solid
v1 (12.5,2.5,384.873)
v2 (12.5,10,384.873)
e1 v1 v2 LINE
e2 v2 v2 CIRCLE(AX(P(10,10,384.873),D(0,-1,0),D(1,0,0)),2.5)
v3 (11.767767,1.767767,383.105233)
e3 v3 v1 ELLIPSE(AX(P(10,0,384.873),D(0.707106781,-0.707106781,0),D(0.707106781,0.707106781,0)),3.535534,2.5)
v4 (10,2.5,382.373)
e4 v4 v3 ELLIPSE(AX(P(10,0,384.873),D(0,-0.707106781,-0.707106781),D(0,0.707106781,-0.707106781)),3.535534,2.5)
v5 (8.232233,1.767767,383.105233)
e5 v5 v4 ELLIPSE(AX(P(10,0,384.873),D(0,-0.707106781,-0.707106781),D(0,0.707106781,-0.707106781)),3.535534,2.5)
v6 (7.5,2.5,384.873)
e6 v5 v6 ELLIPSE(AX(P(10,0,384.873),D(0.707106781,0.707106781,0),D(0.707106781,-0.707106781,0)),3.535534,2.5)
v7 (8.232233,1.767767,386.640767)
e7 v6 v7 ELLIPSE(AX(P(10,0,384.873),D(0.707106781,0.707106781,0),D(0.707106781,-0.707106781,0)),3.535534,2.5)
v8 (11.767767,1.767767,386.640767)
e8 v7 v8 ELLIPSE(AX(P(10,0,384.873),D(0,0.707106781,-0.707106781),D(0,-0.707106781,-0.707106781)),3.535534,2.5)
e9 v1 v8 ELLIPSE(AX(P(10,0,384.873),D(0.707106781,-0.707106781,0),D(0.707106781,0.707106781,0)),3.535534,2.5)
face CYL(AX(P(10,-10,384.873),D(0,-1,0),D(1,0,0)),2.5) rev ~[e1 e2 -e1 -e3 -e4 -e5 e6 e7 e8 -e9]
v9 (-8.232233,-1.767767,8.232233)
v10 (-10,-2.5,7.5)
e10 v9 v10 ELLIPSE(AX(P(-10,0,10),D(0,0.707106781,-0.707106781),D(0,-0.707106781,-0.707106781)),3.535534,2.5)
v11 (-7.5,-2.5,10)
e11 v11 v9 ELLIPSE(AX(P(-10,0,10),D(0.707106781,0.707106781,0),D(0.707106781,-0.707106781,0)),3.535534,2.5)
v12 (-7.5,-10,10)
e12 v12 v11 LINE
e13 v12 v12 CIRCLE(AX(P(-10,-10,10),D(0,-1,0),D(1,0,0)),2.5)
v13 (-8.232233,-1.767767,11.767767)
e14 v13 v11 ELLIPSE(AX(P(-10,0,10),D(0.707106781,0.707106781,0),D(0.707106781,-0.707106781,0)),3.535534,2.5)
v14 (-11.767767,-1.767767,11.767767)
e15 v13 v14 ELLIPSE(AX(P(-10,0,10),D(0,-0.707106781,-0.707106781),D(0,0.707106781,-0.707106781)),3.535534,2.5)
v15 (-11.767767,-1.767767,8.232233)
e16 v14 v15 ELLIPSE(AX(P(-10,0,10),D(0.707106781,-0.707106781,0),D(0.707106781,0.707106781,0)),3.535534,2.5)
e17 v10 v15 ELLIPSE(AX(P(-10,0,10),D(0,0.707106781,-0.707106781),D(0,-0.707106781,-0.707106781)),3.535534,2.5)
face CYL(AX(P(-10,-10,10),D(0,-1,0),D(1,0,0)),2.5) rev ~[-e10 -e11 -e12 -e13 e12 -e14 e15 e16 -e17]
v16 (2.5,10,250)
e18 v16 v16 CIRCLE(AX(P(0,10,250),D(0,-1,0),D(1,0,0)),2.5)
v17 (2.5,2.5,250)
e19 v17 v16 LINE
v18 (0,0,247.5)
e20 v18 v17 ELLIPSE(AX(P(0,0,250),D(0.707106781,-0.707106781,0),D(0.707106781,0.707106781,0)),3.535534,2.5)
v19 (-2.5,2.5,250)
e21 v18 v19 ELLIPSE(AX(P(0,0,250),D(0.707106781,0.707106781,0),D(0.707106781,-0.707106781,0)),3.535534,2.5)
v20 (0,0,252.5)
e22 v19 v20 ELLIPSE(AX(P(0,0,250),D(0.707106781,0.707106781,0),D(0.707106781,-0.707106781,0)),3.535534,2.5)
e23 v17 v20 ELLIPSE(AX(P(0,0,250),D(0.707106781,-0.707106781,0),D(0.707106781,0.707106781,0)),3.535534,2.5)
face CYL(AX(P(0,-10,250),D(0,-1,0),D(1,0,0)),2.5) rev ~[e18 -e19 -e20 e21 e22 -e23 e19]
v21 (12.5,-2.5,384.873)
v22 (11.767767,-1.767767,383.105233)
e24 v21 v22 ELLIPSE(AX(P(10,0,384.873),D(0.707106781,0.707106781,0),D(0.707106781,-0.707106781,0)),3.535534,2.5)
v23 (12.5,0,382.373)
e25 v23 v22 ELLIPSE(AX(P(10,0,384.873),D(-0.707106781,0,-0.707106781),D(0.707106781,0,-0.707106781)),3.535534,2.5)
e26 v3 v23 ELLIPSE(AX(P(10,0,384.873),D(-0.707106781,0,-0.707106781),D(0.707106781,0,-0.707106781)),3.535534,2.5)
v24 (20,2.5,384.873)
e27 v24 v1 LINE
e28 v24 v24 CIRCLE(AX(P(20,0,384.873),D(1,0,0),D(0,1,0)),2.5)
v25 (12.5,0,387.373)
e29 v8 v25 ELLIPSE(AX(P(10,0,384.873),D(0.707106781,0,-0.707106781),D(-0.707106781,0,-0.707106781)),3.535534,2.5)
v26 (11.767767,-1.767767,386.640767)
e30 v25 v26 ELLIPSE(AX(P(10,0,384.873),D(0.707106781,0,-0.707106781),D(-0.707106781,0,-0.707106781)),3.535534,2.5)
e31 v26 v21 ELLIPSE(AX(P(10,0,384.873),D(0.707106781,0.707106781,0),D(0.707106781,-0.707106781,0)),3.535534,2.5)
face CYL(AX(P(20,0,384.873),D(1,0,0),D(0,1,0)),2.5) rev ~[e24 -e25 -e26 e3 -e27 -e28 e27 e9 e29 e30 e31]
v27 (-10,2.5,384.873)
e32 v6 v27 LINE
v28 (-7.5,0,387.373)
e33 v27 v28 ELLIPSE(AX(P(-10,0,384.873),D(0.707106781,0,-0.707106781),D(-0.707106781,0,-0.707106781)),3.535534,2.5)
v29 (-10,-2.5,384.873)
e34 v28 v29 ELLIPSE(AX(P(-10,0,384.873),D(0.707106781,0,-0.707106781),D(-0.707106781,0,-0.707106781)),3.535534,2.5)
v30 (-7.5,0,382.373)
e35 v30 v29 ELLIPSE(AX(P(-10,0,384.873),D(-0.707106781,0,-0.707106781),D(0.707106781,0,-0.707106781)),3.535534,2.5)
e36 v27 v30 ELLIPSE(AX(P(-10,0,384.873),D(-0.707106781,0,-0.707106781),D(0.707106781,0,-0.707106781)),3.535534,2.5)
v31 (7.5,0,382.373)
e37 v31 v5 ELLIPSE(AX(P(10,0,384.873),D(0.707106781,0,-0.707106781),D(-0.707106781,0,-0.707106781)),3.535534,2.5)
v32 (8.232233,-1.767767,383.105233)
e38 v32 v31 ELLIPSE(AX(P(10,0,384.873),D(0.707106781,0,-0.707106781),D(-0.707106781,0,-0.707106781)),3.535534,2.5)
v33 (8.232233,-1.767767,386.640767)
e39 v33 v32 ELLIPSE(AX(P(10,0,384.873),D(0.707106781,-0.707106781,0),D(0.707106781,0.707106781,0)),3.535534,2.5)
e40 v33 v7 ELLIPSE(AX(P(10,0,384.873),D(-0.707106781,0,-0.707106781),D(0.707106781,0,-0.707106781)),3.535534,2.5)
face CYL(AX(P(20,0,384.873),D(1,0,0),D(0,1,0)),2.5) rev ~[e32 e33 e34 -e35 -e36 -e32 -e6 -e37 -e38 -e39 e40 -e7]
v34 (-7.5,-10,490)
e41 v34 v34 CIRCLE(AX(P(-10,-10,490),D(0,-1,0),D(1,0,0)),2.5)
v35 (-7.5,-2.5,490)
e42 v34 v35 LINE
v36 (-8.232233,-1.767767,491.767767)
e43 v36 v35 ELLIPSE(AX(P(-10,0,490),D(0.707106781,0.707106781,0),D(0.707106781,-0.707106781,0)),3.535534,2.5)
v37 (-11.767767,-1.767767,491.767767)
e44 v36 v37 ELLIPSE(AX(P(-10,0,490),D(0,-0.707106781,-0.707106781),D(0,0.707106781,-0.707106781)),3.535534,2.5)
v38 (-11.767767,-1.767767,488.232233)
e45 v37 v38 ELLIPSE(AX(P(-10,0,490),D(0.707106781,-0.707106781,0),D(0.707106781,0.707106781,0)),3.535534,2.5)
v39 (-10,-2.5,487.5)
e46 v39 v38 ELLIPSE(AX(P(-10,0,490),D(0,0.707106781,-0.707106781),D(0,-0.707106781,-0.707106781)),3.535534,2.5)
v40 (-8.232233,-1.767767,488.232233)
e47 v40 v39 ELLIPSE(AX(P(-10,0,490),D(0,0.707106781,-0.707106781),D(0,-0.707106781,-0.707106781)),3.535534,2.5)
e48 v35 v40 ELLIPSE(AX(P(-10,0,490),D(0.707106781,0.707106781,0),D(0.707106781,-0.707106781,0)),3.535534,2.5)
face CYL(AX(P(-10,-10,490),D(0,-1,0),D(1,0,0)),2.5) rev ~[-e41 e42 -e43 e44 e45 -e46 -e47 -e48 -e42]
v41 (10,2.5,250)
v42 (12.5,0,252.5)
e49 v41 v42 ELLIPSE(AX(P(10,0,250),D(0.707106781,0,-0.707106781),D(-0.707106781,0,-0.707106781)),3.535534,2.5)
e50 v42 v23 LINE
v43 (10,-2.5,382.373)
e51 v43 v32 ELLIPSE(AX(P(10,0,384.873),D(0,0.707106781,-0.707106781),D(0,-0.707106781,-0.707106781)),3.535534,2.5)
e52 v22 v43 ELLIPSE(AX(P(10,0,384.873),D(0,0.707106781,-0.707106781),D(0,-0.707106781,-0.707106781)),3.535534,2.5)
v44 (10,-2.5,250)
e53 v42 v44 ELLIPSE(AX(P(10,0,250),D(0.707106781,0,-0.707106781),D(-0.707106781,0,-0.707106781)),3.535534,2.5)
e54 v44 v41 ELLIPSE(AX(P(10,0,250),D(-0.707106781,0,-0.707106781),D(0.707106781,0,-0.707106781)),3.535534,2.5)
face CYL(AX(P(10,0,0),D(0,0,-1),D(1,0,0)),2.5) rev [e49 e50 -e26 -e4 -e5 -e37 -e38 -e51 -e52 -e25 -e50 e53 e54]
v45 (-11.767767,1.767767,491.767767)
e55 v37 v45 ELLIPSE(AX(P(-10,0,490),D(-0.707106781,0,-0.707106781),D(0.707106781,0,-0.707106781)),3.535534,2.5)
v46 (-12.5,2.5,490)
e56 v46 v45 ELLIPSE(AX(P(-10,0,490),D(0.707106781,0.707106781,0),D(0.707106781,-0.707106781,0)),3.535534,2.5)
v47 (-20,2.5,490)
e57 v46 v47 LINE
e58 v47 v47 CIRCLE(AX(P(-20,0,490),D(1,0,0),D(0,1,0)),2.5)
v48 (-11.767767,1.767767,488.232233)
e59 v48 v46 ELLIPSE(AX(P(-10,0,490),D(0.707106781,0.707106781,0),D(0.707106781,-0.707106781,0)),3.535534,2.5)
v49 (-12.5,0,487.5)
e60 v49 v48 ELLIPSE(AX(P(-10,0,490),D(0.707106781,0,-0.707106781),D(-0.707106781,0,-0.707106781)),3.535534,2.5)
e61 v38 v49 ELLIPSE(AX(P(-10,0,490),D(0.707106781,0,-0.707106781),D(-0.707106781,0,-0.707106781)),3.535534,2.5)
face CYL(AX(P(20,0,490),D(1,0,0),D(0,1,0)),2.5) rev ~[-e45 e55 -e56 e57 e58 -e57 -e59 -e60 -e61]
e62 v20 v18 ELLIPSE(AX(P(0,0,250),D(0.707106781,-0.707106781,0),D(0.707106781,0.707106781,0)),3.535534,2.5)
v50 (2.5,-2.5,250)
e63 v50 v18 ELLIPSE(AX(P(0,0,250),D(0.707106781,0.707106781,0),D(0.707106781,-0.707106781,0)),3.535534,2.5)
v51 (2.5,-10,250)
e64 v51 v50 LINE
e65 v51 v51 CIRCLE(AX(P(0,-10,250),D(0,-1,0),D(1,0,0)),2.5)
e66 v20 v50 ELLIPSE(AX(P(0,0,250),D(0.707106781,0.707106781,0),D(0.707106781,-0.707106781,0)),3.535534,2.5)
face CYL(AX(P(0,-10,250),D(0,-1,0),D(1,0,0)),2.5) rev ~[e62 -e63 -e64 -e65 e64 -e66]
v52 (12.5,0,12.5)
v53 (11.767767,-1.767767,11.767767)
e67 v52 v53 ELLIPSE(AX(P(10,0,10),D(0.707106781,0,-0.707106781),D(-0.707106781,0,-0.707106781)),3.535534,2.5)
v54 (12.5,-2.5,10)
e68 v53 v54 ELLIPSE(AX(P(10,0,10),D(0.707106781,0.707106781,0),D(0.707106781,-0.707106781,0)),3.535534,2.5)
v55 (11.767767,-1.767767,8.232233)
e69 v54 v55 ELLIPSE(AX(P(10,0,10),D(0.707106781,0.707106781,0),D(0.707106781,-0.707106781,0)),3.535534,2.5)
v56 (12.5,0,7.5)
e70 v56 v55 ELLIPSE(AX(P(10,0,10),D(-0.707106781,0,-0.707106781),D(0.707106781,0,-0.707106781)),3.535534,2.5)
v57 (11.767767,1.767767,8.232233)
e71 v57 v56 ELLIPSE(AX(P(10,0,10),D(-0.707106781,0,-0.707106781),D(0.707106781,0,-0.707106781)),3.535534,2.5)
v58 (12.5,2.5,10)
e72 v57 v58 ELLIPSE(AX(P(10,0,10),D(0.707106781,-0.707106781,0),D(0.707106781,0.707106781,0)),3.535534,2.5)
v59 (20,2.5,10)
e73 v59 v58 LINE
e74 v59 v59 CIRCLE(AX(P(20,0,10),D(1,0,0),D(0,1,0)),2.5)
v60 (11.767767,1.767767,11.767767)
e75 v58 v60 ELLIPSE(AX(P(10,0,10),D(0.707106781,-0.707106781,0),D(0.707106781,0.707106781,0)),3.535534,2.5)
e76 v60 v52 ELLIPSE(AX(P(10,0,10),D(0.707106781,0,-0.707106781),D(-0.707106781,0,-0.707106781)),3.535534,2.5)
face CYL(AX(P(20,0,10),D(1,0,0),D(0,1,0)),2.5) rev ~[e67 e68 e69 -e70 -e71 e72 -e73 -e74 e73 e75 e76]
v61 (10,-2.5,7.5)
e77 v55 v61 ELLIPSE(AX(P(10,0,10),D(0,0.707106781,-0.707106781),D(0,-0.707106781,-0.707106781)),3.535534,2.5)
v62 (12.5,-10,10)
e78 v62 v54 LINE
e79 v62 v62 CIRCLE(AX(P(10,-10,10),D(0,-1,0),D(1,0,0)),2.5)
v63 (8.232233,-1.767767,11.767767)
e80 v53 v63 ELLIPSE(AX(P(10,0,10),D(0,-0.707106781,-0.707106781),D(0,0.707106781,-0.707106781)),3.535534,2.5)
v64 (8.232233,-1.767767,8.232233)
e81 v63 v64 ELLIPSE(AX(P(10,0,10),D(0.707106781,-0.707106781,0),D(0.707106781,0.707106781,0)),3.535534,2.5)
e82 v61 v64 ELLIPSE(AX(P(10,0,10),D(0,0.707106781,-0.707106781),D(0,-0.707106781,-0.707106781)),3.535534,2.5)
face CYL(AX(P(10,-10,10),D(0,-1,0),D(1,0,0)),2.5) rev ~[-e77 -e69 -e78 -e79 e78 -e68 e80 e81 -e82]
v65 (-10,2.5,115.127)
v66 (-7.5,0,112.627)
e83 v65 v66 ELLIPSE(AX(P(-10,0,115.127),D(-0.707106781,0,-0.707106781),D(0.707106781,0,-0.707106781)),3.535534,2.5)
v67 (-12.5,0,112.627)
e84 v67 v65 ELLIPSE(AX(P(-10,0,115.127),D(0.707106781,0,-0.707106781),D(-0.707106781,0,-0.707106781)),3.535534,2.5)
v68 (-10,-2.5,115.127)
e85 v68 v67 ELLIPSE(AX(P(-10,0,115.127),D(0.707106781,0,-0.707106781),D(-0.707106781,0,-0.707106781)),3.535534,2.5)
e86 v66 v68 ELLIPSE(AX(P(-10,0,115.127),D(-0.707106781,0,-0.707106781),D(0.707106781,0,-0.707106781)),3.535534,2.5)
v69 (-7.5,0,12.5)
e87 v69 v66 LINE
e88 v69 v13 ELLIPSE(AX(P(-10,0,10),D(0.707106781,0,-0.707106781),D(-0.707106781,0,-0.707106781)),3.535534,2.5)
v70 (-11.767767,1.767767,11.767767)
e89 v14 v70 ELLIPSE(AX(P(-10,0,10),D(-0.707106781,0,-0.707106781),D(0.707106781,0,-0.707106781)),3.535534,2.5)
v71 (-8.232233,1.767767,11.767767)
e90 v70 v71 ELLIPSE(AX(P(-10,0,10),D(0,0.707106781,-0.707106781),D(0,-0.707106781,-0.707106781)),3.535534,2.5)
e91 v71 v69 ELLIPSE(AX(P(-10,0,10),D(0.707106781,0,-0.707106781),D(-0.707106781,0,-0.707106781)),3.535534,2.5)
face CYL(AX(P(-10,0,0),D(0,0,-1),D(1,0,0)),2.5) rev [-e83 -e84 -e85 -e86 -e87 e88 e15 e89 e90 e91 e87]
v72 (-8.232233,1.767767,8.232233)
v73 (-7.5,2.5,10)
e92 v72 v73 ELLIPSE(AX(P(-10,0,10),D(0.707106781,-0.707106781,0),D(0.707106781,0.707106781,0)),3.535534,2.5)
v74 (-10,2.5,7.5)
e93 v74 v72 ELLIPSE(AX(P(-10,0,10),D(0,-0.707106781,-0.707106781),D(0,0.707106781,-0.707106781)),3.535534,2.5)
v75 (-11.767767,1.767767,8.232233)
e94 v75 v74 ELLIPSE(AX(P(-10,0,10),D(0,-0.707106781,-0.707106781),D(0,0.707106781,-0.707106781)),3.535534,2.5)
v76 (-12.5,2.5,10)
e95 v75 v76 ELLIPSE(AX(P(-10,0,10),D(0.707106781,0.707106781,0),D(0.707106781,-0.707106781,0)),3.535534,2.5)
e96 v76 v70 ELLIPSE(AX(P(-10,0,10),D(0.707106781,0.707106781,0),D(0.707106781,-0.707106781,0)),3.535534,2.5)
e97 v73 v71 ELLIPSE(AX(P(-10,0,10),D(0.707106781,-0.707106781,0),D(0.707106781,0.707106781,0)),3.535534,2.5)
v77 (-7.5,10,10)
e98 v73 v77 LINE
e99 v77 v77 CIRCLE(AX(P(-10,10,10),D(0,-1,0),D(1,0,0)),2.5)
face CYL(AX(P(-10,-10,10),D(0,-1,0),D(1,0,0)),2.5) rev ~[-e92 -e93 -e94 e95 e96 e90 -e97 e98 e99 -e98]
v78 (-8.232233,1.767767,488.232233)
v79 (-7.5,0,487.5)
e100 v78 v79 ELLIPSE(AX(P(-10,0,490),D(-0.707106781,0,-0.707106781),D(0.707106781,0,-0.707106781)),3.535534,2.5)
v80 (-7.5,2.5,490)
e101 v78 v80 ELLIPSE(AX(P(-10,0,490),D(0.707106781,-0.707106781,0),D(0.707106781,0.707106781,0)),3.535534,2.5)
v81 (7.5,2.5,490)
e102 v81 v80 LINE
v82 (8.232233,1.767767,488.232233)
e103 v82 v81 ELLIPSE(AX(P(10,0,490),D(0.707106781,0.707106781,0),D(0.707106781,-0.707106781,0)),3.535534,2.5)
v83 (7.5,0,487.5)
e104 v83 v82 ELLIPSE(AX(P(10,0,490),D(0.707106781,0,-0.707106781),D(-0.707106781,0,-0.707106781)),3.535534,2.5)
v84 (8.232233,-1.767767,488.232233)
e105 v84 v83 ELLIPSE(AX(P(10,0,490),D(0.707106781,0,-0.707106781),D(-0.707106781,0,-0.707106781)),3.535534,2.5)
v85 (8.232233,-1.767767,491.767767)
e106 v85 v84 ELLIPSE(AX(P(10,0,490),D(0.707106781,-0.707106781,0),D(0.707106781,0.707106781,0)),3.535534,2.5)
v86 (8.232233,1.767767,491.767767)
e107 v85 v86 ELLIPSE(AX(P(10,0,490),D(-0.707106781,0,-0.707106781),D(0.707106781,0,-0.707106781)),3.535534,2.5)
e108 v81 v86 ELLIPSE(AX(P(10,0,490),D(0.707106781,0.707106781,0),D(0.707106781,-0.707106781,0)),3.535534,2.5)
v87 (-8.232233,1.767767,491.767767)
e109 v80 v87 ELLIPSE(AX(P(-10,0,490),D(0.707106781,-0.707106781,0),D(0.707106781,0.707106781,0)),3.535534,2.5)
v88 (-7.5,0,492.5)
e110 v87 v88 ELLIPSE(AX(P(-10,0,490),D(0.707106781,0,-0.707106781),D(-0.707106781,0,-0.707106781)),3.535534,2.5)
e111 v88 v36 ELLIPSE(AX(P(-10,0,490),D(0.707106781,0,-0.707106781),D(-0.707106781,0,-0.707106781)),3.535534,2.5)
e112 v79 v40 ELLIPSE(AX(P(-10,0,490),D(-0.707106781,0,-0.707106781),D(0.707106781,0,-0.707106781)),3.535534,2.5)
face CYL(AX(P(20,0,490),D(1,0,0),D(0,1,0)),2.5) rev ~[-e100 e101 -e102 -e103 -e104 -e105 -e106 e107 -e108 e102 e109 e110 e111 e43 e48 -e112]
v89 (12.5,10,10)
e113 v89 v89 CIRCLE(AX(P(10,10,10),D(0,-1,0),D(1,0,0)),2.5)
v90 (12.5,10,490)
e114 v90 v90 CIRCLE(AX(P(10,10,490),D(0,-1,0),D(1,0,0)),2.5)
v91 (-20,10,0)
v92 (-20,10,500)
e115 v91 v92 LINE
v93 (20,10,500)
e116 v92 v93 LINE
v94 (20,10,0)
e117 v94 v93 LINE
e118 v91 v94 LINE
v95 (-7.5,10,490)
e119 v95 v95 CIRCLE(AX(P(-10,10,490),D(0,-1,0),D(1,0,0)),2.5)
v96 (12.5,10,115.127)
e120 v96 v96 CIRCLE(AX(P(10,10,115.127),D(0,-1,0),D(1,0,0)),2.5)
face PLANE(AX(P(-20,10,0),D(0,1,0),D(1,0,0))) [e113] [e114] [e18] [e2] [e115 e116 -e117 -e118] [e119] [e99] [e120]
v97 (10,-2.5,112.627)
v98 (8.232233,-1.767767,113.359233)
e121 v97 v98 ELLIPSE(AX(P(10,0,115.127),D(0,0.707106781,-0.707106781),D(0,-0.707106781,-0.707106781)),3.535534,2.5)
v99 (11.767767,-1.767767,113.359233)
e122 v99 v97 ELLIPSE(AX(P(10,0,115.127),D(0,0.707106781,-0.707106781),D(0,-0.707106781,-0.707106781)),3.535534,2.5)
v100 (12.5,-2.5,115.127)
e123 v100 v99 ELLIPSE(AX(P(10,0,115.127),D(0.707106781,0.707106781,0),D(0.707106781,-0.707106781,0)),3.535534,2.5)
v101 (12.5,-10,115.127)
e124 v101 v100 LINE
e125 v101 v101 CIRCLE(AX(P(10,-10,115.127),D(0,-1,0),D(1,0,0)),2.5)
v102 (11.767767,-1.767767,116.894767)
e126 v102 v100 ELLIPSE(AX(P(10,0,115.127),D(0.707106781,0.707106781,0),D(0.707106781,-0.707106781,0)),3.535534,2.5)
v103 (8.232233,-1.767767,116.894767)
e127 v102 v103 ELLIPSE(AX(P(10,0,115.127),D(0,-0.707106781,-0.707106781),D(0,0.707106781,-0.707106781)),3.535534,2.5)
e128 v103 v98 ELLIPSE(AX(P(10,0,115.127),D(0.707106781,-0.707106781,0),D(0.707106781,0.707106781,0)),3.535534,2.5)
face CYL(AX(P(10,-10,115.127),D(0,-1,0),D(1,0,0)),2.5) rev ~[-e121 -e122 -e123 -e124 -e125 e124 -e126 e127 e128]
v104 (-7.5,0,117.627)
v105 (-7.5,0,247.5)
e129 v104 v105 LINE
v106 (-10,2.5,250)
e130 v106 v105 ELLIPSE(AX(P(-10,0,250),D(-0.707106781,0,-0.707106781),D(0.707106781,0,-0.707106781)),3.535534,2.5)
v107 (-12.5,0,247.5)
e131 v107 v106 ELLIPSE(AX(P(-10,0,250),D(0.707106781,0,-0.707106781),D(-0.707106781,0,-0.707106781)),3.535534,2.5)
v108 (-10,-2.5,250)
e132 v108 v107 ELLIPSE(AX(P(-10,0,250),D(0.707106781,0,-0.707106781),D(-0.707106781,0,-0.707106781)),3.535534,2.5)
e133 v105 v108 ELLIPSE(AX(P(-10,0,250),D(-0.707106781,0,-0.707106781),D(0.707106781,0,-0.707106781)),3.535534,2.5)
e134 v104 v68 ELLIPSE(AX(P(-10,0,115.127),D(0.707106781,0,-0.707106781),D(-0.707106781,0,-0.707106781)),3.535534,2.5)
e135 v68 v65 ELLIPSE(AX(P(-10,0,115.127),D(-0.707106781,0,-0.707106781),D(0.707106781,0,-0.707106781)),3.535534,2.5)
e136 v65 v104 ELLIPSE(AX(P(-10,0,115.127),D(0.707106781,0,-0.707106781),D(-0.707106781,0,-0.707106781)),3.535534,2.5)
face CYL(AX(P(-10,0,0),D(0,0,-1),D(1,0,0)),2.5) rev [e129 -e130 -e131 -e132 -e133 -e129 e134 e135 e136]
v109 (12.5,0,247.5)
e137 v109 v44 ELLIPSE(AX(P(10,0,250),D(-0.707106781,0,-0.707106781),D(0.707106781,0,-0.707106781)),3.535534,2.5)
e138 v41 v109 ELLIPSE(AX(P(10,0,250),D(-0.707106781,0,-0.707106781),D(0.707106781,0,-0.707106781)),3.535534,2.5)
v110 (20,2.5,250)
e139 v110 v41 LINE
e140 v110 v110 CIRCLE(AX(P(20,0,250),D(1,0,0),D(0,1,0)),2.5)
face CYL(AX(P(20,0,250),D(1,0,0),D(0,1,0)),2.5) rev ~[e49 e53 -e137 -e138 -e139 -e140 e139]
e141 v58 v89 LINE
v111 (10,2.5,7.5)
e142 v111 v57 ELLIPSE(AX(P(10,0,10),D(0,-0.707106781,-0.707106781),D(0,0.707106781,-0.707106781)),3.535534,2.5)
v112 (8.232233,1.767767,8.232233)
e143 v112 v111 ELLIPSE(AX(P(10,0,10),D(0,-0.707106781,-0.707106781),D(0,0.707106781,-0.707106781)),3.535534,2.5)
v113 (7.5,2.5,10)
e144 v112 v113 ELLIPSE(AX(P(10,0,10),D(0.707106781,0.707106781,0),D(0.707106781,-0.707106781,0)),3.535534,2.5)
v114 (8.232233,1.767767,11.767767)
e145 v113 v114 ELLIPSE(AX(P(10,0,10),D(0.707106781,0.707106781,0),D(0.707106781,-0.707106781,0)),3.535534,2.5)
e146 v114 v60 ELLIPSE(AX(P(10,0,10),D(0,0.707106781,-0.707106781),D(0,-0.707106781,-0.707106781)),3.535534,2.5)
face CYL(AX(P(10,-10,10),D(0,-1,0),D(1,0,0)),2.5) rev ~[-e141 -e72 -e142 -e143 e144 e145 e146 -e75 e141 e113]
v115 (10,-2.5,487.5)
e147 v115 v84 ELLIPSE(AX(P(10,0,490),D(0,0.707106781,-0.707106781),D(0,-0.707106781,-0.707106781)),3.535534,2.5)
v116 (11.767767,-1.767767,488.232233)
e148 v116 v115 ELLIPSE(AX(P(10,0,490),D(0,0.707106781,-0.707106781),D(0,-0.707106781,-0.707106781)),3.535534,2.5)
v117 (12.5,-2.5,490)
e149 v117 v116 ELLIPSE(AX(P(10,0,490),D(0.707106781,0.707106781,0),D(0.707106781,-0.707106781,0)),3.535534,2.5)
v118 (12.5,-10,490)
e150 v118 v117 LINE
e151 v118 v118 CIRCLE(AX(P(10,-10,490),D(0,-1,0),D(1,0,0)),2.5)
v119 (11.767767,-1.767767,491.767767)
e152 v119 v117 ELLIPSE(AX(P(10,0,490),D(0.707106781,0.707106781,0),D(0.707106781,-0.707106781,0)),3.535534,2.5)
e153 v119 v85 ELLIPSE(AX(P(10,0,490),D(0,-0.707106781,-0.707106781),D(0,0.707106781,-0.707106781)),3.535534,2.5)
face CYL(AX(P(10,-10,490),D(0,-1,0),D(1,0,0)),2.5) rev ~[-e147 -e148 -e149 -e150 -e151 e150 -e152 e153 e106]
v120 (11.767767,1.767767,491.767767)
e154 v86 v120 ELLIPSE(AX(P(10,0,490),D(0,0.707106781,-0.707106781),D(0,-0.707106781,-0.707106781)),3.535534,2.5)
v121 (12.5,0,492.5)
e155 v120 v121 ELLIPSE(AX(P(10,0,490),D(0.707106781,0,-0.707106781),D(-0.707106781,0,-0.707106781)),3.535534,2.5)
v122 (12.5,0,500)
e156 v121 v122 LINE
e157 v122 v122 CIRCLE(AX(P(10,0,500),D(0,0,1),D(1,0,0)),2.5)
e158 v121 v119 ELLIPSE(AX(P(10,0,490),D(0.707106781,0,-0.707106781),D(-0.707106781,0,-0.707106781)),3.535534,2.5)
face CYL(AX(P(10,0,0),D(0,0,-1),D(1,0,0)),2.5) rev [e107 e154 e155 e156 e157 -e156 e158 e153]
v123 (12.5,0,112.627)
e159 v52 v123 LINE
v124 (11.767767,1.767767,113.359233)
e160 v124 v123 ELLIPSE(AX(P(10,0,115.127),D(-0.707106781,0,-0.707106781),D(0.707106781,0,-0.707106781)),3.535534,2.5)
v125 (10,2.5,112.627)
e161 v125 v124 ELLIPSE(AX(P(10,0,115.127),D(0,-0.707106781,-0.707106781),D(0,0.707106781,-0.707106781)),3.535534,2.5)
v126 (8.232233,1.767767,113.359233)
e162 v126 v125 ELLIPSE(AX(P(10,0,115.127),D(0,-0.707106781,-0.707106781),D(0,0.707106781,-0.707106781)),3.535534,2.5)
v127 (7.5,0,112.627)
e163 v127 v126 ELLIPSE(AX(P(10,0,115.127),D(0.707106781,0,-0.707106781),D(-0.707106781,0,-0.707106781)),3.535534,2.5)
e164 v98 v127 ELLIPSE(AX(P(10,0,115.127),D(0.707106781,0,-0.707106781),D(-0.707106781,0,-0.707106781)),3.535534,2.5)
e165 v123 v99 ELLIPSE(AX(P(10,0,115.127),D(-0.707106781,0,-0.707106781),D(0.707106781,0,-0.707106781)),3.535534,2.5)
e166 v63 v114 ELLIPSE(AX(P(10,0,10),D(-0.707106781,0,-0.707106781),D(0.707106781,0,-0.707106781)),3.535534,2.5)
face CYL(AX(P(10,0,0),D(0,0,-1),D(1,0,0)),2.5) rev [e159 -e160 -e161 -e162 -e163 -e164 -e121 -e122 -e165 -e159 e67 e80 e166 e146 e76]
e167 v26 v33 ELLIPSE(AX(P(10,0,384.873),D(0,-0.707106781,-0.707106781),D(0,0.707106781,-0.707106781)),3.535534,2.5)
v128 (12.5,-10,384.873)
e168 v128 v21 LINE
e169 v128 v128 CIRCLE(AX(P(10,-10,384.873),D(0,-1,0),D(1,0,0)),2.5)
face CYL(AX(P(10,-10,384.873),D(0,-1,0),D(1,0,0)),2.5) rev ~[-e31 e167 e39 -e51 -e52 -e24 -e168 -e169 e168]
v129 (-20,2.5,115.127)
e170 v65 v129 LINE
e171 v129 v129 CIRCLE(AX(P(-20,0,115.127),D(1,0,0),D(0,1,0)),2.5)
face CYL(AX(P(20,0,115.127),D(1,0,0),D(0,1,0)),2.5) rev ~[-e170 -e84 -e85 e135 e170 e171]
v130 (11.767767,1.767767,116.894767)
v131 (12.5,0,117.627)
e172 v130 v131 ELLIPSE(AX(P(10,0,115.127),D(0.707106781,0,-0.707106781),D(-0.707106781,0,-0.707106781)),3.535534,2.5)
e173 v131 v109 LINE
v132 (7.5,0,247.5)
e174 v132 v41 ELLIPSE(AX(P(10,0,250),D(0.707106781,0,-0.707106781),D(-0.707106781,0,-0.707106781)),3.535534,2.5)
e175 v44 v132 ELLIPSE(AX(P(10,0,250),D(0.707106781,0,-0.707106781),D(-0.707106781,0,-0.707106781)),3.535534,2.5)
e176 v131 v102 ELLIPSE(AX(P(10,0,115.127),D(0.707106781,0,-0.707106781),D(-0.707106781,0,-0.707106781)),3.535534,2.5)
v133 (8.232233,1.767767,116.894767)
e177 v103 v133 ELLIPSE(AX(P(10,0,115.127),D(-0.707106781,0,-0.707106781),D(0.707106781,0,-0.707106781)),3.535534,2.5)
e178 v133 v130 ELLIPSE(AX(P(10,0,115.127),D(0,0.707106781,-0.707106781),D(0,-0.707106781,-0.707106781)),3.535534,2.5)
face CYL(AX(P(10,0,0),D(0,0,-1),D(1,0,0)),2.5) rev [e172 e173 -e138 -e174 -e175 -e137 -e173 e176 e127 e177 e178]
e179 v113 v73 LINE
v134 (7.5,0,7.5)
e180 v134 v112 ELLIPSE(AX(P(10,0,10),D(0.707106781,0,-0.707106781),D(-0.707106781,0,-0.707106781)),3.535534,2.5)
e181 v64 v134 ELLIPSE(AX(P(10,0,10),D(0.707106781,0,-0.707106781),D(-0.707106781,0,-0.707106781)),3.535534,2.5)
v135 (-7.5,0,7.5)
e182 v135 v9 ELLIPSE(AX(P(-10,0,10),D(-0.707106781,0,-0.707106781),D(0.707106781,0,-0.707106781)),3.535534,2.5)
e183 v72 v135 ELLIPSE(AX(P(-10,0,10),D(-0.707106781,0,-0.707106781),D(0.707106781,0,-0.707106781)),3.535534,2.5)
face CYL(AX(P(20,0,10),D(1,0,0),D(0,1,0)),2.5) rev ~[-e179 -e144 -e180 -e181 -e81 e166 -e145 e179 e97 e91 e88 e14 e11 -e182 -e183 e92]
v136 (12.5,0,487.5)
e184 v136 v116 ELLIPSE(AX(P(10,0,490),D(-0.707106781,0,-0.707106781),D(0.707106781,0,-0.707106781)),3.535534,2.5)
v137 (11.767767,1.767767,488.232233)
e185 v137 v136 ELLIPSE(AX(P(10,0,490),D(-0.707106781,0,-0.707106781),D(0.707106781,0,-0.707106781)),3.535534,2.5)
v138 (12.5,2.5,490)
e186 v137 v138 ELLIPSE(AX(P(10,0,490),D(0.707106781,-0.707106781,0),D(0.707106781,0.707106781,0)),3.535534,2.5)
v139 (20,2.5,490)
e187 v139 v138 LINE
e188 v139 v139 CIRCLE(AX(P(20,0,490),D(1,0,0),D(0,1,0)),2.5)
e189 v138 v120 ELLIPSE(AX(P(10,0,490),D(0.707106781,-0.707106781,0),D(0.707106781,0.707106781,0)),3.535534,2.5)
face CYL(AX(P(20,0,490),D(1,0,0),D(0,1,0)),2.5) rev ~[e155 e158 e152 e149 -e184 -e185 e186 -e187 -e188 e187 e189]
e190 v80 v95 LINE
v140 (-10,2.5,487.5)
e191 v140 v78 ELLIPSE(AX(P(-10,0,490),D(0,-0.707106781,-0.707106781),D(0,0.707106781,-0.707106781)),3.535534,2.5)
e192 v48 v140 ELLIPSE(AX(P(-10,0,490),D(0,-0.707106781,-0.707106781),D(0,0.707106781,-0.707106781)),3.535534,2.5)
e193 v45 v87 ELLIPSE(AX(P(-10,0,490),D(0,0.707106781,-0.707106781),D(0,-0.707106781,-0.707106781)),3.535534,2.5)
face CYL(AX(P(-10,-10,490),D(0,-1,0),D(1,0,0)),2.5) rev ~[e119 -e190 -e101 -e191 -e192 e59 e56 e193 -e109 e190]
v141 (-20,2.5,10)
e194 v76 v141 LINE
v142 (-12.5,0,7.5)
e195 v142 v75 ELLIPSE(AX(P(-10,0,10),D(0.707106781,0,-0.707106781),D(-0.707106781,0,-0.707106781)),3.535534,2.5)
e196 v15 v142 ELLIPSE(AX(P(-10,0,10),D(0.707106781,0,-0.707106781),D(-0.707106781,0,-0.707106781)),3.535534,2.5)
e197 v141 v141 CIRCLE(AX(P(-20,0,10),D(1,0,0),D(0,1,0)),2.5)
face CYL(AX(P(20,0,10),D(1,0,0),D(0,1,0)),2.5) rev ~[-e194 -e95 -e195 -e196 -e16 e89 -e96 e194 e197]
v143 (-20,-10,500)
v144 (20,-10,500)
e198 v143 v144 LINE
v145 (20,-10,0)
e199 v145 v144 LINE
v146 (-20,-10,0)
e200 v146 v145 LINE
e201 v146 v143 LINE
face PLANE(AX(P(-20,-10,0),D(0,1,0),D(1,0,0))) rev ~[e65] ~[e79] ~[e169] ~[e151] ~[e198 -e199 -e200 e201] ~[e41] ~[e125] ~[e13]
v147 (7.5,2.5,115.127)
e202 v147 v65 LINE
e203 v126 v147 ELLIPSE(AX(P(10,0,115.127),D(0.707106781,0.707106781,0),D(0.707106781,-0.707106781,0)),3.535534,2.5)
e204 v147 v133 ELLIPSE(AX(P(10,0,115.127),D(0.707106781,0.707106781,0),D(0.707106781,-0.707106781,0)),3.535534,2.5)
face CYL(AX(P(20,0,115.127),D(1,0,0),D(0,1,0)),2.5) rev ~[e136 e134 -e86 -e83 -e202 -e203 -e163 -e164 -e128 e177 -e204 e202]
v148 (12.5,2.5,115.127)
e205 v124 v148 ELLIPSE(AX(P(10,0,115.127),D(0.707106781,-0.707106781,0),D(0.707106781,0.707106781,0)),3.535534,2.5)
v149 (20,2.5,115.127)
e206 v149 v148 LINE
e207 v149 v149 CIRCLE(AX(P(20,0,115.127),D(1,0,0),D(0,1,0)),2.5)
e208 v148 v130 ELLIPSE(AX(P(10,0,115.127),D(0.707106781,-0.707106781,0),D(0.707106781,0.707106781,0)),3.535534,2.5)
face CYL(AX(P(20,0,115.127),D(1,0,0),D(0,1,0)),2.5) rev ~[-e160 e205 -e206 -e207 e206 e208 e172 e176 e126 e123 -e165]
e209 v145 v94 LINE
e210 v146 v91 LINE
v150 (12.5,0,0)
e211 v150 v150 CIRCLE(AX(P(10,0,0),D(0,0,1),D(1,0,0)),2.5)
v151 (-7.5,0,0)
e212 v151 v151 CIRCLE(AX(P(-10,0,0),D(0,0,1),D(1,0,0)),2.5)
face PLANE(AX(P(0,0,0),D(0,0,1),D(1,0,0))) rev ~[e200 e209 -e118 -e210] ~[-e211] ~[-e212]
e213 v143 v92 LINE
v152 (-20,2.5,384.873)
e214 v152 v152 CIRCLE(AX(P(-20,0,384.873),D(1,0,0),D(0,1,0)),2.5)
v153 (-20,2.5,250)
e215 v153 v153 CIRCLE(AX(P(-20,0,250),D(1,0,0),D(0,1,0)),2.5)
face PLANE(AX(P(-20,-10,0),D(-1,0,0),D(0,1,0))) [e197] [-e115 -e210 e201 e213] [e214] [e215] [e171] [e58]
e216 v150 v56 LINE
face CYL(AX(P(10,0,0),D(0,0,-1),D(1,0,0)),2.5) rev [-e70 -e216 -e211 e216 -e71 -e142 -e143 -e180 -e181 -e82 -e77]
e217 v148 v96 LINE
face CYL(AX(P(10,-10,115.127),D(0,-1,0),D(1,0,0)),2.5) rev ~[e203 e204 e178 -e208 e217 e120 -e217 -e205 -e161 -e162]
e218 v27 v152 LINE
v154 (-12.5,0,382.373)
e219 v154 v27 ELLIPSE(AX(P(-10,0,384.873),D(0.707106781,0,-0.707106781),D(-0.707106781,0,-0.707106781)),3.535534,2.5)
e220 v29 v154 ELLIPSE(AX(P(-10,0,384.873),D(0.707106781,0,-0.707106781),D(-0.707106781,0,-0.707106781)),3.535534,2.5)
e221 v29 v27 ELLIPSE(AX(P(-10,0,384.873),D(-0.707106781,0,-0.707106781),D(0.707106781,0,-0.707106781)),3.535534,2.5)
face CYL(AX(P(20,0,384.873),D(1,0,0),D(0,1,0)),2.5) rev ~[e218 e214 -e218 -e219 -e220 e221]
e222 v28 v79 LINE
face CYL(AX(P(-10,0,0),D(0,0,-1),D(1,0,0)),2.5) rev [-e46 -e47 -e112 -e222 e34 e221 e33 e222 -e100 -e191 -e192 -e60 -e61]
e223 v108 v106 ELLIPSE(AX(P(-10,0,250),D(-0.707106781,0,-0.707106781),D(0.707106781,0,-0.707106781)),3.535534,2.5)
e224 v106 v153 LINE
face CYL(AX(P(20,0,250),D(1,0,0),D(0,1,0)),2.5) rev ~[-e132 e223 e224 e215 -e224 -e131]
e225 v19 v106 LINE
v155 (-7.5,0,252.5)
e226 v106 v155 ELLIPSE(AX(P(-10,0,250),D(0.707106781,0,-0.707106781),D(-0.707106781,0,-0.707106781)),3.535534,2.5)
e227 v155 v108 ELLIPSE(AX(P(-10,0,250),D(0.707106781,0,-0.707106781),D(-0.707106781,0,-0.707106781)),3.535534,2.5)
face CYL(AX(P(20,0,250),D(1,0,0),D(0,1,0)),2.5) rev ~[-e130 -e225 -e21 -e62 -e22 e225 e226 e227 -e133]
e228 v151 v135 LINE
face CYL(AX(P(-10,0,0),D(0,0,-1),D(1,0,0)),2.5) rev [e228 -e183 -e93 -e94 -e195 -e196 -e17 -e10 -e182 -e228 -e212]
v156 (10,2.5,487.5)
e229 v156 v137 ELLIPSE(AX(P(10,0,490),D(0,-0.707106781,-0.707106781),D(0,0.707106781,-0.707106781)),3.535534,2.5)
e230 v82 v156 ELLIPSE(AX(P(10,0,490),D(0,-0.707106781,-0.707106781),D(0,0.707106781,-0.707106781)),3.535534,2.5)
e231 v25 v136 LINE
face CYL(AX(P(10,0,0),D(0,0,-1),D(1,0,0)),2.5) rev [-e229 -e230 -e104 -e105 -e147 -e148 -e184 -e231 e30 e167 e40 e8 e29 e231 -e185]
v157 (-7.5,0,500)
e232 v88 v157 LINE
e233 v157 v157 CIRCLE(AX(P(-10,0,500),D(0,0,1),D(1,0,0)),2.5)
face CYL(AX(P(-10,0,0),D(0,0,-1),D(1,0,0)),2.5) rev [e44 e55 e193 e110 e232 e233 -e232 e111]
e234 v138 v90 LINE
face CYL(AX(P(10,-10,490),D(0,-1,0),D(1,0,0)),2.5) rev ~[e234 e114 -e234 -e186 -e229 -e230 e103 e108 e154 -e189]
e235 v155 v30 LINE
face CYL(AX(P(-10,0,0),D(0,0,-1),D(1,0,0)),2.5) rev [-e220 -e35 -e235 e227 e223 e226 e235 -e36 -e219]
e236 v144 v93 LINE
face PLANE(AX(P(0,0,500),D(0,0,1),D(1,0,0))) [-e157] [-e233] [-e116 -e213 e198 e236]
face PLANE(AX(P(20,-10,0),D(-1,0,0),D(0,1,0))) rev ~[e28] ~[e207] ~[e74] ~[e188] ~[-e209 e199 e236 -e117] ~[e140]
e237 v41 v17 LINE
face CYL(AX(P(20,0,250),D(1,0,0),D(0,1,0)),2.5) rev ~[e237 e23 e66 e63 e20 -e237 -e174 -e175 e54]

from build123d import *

# Parameters (mm, degrees)
F0_W     = 40
F0_H     = 20
F0_R     = 2.5
F1_DEPTH = 500
F2_R     = 2.5
F3_DEPTH = 40.001
F4_R     = 2.5
F5_DEPTH = 20.001


with BuildPart() as f1:
    # F0 (on Top) → F1 (new body)
    with BuildSketch(Plane.XY):
        Rectangle(F0_W, F0_H)
        with Locations((-10, 0)):
            Circle(F0_R, mode=Mode.SUBTRACT)
        with Locations((10, 0)):
            Circle(F0_R, mode=Mode.SUBTRACT)
    extrude(amount=F1_DEPTH)

    # F2 (on face) → F3 (cut, through all)
    with BuildSketch(Plane.YZ.offset(20)):
        with Locations((0, 10)):
            Circle(F2_R)
        with Locations((0, 490)):
            Circle(F2_R)
        with Locations((0, 250)):
            Circle(F2_R)
        with Locations((0, 115.127)):
            Circle(F2_R)
        with Locations((0, 384.873)):
            Circle(F2_R)
    extrude(amount=-F3_DEPTH, mode=Mode.SUBTRACT)

    # F4 (on face) → F5 (cut, through all)
    with BuildSketch(Plane.XZ.offset(10)):
        with Locations((0, 250)):
            Circle(F4_R)
        with Locations((-10, 490)):
            Circle(F4_R)
        with Locations((10, 490)):
            Circle(F4_R)
        with Locations((-10, 10)):
            Circle(F4_R)
        with Locations((10, 10)):
            Circle(F4_R)
        with Locations((10, 115.127)):
            Circle(F4_R)
        with Locations((10, 384.873)):
            Circle(F4_R)
    extrude(amount=-F5_DEPTH, mode=Mode.SUBTRACT)


solid = f1.part
